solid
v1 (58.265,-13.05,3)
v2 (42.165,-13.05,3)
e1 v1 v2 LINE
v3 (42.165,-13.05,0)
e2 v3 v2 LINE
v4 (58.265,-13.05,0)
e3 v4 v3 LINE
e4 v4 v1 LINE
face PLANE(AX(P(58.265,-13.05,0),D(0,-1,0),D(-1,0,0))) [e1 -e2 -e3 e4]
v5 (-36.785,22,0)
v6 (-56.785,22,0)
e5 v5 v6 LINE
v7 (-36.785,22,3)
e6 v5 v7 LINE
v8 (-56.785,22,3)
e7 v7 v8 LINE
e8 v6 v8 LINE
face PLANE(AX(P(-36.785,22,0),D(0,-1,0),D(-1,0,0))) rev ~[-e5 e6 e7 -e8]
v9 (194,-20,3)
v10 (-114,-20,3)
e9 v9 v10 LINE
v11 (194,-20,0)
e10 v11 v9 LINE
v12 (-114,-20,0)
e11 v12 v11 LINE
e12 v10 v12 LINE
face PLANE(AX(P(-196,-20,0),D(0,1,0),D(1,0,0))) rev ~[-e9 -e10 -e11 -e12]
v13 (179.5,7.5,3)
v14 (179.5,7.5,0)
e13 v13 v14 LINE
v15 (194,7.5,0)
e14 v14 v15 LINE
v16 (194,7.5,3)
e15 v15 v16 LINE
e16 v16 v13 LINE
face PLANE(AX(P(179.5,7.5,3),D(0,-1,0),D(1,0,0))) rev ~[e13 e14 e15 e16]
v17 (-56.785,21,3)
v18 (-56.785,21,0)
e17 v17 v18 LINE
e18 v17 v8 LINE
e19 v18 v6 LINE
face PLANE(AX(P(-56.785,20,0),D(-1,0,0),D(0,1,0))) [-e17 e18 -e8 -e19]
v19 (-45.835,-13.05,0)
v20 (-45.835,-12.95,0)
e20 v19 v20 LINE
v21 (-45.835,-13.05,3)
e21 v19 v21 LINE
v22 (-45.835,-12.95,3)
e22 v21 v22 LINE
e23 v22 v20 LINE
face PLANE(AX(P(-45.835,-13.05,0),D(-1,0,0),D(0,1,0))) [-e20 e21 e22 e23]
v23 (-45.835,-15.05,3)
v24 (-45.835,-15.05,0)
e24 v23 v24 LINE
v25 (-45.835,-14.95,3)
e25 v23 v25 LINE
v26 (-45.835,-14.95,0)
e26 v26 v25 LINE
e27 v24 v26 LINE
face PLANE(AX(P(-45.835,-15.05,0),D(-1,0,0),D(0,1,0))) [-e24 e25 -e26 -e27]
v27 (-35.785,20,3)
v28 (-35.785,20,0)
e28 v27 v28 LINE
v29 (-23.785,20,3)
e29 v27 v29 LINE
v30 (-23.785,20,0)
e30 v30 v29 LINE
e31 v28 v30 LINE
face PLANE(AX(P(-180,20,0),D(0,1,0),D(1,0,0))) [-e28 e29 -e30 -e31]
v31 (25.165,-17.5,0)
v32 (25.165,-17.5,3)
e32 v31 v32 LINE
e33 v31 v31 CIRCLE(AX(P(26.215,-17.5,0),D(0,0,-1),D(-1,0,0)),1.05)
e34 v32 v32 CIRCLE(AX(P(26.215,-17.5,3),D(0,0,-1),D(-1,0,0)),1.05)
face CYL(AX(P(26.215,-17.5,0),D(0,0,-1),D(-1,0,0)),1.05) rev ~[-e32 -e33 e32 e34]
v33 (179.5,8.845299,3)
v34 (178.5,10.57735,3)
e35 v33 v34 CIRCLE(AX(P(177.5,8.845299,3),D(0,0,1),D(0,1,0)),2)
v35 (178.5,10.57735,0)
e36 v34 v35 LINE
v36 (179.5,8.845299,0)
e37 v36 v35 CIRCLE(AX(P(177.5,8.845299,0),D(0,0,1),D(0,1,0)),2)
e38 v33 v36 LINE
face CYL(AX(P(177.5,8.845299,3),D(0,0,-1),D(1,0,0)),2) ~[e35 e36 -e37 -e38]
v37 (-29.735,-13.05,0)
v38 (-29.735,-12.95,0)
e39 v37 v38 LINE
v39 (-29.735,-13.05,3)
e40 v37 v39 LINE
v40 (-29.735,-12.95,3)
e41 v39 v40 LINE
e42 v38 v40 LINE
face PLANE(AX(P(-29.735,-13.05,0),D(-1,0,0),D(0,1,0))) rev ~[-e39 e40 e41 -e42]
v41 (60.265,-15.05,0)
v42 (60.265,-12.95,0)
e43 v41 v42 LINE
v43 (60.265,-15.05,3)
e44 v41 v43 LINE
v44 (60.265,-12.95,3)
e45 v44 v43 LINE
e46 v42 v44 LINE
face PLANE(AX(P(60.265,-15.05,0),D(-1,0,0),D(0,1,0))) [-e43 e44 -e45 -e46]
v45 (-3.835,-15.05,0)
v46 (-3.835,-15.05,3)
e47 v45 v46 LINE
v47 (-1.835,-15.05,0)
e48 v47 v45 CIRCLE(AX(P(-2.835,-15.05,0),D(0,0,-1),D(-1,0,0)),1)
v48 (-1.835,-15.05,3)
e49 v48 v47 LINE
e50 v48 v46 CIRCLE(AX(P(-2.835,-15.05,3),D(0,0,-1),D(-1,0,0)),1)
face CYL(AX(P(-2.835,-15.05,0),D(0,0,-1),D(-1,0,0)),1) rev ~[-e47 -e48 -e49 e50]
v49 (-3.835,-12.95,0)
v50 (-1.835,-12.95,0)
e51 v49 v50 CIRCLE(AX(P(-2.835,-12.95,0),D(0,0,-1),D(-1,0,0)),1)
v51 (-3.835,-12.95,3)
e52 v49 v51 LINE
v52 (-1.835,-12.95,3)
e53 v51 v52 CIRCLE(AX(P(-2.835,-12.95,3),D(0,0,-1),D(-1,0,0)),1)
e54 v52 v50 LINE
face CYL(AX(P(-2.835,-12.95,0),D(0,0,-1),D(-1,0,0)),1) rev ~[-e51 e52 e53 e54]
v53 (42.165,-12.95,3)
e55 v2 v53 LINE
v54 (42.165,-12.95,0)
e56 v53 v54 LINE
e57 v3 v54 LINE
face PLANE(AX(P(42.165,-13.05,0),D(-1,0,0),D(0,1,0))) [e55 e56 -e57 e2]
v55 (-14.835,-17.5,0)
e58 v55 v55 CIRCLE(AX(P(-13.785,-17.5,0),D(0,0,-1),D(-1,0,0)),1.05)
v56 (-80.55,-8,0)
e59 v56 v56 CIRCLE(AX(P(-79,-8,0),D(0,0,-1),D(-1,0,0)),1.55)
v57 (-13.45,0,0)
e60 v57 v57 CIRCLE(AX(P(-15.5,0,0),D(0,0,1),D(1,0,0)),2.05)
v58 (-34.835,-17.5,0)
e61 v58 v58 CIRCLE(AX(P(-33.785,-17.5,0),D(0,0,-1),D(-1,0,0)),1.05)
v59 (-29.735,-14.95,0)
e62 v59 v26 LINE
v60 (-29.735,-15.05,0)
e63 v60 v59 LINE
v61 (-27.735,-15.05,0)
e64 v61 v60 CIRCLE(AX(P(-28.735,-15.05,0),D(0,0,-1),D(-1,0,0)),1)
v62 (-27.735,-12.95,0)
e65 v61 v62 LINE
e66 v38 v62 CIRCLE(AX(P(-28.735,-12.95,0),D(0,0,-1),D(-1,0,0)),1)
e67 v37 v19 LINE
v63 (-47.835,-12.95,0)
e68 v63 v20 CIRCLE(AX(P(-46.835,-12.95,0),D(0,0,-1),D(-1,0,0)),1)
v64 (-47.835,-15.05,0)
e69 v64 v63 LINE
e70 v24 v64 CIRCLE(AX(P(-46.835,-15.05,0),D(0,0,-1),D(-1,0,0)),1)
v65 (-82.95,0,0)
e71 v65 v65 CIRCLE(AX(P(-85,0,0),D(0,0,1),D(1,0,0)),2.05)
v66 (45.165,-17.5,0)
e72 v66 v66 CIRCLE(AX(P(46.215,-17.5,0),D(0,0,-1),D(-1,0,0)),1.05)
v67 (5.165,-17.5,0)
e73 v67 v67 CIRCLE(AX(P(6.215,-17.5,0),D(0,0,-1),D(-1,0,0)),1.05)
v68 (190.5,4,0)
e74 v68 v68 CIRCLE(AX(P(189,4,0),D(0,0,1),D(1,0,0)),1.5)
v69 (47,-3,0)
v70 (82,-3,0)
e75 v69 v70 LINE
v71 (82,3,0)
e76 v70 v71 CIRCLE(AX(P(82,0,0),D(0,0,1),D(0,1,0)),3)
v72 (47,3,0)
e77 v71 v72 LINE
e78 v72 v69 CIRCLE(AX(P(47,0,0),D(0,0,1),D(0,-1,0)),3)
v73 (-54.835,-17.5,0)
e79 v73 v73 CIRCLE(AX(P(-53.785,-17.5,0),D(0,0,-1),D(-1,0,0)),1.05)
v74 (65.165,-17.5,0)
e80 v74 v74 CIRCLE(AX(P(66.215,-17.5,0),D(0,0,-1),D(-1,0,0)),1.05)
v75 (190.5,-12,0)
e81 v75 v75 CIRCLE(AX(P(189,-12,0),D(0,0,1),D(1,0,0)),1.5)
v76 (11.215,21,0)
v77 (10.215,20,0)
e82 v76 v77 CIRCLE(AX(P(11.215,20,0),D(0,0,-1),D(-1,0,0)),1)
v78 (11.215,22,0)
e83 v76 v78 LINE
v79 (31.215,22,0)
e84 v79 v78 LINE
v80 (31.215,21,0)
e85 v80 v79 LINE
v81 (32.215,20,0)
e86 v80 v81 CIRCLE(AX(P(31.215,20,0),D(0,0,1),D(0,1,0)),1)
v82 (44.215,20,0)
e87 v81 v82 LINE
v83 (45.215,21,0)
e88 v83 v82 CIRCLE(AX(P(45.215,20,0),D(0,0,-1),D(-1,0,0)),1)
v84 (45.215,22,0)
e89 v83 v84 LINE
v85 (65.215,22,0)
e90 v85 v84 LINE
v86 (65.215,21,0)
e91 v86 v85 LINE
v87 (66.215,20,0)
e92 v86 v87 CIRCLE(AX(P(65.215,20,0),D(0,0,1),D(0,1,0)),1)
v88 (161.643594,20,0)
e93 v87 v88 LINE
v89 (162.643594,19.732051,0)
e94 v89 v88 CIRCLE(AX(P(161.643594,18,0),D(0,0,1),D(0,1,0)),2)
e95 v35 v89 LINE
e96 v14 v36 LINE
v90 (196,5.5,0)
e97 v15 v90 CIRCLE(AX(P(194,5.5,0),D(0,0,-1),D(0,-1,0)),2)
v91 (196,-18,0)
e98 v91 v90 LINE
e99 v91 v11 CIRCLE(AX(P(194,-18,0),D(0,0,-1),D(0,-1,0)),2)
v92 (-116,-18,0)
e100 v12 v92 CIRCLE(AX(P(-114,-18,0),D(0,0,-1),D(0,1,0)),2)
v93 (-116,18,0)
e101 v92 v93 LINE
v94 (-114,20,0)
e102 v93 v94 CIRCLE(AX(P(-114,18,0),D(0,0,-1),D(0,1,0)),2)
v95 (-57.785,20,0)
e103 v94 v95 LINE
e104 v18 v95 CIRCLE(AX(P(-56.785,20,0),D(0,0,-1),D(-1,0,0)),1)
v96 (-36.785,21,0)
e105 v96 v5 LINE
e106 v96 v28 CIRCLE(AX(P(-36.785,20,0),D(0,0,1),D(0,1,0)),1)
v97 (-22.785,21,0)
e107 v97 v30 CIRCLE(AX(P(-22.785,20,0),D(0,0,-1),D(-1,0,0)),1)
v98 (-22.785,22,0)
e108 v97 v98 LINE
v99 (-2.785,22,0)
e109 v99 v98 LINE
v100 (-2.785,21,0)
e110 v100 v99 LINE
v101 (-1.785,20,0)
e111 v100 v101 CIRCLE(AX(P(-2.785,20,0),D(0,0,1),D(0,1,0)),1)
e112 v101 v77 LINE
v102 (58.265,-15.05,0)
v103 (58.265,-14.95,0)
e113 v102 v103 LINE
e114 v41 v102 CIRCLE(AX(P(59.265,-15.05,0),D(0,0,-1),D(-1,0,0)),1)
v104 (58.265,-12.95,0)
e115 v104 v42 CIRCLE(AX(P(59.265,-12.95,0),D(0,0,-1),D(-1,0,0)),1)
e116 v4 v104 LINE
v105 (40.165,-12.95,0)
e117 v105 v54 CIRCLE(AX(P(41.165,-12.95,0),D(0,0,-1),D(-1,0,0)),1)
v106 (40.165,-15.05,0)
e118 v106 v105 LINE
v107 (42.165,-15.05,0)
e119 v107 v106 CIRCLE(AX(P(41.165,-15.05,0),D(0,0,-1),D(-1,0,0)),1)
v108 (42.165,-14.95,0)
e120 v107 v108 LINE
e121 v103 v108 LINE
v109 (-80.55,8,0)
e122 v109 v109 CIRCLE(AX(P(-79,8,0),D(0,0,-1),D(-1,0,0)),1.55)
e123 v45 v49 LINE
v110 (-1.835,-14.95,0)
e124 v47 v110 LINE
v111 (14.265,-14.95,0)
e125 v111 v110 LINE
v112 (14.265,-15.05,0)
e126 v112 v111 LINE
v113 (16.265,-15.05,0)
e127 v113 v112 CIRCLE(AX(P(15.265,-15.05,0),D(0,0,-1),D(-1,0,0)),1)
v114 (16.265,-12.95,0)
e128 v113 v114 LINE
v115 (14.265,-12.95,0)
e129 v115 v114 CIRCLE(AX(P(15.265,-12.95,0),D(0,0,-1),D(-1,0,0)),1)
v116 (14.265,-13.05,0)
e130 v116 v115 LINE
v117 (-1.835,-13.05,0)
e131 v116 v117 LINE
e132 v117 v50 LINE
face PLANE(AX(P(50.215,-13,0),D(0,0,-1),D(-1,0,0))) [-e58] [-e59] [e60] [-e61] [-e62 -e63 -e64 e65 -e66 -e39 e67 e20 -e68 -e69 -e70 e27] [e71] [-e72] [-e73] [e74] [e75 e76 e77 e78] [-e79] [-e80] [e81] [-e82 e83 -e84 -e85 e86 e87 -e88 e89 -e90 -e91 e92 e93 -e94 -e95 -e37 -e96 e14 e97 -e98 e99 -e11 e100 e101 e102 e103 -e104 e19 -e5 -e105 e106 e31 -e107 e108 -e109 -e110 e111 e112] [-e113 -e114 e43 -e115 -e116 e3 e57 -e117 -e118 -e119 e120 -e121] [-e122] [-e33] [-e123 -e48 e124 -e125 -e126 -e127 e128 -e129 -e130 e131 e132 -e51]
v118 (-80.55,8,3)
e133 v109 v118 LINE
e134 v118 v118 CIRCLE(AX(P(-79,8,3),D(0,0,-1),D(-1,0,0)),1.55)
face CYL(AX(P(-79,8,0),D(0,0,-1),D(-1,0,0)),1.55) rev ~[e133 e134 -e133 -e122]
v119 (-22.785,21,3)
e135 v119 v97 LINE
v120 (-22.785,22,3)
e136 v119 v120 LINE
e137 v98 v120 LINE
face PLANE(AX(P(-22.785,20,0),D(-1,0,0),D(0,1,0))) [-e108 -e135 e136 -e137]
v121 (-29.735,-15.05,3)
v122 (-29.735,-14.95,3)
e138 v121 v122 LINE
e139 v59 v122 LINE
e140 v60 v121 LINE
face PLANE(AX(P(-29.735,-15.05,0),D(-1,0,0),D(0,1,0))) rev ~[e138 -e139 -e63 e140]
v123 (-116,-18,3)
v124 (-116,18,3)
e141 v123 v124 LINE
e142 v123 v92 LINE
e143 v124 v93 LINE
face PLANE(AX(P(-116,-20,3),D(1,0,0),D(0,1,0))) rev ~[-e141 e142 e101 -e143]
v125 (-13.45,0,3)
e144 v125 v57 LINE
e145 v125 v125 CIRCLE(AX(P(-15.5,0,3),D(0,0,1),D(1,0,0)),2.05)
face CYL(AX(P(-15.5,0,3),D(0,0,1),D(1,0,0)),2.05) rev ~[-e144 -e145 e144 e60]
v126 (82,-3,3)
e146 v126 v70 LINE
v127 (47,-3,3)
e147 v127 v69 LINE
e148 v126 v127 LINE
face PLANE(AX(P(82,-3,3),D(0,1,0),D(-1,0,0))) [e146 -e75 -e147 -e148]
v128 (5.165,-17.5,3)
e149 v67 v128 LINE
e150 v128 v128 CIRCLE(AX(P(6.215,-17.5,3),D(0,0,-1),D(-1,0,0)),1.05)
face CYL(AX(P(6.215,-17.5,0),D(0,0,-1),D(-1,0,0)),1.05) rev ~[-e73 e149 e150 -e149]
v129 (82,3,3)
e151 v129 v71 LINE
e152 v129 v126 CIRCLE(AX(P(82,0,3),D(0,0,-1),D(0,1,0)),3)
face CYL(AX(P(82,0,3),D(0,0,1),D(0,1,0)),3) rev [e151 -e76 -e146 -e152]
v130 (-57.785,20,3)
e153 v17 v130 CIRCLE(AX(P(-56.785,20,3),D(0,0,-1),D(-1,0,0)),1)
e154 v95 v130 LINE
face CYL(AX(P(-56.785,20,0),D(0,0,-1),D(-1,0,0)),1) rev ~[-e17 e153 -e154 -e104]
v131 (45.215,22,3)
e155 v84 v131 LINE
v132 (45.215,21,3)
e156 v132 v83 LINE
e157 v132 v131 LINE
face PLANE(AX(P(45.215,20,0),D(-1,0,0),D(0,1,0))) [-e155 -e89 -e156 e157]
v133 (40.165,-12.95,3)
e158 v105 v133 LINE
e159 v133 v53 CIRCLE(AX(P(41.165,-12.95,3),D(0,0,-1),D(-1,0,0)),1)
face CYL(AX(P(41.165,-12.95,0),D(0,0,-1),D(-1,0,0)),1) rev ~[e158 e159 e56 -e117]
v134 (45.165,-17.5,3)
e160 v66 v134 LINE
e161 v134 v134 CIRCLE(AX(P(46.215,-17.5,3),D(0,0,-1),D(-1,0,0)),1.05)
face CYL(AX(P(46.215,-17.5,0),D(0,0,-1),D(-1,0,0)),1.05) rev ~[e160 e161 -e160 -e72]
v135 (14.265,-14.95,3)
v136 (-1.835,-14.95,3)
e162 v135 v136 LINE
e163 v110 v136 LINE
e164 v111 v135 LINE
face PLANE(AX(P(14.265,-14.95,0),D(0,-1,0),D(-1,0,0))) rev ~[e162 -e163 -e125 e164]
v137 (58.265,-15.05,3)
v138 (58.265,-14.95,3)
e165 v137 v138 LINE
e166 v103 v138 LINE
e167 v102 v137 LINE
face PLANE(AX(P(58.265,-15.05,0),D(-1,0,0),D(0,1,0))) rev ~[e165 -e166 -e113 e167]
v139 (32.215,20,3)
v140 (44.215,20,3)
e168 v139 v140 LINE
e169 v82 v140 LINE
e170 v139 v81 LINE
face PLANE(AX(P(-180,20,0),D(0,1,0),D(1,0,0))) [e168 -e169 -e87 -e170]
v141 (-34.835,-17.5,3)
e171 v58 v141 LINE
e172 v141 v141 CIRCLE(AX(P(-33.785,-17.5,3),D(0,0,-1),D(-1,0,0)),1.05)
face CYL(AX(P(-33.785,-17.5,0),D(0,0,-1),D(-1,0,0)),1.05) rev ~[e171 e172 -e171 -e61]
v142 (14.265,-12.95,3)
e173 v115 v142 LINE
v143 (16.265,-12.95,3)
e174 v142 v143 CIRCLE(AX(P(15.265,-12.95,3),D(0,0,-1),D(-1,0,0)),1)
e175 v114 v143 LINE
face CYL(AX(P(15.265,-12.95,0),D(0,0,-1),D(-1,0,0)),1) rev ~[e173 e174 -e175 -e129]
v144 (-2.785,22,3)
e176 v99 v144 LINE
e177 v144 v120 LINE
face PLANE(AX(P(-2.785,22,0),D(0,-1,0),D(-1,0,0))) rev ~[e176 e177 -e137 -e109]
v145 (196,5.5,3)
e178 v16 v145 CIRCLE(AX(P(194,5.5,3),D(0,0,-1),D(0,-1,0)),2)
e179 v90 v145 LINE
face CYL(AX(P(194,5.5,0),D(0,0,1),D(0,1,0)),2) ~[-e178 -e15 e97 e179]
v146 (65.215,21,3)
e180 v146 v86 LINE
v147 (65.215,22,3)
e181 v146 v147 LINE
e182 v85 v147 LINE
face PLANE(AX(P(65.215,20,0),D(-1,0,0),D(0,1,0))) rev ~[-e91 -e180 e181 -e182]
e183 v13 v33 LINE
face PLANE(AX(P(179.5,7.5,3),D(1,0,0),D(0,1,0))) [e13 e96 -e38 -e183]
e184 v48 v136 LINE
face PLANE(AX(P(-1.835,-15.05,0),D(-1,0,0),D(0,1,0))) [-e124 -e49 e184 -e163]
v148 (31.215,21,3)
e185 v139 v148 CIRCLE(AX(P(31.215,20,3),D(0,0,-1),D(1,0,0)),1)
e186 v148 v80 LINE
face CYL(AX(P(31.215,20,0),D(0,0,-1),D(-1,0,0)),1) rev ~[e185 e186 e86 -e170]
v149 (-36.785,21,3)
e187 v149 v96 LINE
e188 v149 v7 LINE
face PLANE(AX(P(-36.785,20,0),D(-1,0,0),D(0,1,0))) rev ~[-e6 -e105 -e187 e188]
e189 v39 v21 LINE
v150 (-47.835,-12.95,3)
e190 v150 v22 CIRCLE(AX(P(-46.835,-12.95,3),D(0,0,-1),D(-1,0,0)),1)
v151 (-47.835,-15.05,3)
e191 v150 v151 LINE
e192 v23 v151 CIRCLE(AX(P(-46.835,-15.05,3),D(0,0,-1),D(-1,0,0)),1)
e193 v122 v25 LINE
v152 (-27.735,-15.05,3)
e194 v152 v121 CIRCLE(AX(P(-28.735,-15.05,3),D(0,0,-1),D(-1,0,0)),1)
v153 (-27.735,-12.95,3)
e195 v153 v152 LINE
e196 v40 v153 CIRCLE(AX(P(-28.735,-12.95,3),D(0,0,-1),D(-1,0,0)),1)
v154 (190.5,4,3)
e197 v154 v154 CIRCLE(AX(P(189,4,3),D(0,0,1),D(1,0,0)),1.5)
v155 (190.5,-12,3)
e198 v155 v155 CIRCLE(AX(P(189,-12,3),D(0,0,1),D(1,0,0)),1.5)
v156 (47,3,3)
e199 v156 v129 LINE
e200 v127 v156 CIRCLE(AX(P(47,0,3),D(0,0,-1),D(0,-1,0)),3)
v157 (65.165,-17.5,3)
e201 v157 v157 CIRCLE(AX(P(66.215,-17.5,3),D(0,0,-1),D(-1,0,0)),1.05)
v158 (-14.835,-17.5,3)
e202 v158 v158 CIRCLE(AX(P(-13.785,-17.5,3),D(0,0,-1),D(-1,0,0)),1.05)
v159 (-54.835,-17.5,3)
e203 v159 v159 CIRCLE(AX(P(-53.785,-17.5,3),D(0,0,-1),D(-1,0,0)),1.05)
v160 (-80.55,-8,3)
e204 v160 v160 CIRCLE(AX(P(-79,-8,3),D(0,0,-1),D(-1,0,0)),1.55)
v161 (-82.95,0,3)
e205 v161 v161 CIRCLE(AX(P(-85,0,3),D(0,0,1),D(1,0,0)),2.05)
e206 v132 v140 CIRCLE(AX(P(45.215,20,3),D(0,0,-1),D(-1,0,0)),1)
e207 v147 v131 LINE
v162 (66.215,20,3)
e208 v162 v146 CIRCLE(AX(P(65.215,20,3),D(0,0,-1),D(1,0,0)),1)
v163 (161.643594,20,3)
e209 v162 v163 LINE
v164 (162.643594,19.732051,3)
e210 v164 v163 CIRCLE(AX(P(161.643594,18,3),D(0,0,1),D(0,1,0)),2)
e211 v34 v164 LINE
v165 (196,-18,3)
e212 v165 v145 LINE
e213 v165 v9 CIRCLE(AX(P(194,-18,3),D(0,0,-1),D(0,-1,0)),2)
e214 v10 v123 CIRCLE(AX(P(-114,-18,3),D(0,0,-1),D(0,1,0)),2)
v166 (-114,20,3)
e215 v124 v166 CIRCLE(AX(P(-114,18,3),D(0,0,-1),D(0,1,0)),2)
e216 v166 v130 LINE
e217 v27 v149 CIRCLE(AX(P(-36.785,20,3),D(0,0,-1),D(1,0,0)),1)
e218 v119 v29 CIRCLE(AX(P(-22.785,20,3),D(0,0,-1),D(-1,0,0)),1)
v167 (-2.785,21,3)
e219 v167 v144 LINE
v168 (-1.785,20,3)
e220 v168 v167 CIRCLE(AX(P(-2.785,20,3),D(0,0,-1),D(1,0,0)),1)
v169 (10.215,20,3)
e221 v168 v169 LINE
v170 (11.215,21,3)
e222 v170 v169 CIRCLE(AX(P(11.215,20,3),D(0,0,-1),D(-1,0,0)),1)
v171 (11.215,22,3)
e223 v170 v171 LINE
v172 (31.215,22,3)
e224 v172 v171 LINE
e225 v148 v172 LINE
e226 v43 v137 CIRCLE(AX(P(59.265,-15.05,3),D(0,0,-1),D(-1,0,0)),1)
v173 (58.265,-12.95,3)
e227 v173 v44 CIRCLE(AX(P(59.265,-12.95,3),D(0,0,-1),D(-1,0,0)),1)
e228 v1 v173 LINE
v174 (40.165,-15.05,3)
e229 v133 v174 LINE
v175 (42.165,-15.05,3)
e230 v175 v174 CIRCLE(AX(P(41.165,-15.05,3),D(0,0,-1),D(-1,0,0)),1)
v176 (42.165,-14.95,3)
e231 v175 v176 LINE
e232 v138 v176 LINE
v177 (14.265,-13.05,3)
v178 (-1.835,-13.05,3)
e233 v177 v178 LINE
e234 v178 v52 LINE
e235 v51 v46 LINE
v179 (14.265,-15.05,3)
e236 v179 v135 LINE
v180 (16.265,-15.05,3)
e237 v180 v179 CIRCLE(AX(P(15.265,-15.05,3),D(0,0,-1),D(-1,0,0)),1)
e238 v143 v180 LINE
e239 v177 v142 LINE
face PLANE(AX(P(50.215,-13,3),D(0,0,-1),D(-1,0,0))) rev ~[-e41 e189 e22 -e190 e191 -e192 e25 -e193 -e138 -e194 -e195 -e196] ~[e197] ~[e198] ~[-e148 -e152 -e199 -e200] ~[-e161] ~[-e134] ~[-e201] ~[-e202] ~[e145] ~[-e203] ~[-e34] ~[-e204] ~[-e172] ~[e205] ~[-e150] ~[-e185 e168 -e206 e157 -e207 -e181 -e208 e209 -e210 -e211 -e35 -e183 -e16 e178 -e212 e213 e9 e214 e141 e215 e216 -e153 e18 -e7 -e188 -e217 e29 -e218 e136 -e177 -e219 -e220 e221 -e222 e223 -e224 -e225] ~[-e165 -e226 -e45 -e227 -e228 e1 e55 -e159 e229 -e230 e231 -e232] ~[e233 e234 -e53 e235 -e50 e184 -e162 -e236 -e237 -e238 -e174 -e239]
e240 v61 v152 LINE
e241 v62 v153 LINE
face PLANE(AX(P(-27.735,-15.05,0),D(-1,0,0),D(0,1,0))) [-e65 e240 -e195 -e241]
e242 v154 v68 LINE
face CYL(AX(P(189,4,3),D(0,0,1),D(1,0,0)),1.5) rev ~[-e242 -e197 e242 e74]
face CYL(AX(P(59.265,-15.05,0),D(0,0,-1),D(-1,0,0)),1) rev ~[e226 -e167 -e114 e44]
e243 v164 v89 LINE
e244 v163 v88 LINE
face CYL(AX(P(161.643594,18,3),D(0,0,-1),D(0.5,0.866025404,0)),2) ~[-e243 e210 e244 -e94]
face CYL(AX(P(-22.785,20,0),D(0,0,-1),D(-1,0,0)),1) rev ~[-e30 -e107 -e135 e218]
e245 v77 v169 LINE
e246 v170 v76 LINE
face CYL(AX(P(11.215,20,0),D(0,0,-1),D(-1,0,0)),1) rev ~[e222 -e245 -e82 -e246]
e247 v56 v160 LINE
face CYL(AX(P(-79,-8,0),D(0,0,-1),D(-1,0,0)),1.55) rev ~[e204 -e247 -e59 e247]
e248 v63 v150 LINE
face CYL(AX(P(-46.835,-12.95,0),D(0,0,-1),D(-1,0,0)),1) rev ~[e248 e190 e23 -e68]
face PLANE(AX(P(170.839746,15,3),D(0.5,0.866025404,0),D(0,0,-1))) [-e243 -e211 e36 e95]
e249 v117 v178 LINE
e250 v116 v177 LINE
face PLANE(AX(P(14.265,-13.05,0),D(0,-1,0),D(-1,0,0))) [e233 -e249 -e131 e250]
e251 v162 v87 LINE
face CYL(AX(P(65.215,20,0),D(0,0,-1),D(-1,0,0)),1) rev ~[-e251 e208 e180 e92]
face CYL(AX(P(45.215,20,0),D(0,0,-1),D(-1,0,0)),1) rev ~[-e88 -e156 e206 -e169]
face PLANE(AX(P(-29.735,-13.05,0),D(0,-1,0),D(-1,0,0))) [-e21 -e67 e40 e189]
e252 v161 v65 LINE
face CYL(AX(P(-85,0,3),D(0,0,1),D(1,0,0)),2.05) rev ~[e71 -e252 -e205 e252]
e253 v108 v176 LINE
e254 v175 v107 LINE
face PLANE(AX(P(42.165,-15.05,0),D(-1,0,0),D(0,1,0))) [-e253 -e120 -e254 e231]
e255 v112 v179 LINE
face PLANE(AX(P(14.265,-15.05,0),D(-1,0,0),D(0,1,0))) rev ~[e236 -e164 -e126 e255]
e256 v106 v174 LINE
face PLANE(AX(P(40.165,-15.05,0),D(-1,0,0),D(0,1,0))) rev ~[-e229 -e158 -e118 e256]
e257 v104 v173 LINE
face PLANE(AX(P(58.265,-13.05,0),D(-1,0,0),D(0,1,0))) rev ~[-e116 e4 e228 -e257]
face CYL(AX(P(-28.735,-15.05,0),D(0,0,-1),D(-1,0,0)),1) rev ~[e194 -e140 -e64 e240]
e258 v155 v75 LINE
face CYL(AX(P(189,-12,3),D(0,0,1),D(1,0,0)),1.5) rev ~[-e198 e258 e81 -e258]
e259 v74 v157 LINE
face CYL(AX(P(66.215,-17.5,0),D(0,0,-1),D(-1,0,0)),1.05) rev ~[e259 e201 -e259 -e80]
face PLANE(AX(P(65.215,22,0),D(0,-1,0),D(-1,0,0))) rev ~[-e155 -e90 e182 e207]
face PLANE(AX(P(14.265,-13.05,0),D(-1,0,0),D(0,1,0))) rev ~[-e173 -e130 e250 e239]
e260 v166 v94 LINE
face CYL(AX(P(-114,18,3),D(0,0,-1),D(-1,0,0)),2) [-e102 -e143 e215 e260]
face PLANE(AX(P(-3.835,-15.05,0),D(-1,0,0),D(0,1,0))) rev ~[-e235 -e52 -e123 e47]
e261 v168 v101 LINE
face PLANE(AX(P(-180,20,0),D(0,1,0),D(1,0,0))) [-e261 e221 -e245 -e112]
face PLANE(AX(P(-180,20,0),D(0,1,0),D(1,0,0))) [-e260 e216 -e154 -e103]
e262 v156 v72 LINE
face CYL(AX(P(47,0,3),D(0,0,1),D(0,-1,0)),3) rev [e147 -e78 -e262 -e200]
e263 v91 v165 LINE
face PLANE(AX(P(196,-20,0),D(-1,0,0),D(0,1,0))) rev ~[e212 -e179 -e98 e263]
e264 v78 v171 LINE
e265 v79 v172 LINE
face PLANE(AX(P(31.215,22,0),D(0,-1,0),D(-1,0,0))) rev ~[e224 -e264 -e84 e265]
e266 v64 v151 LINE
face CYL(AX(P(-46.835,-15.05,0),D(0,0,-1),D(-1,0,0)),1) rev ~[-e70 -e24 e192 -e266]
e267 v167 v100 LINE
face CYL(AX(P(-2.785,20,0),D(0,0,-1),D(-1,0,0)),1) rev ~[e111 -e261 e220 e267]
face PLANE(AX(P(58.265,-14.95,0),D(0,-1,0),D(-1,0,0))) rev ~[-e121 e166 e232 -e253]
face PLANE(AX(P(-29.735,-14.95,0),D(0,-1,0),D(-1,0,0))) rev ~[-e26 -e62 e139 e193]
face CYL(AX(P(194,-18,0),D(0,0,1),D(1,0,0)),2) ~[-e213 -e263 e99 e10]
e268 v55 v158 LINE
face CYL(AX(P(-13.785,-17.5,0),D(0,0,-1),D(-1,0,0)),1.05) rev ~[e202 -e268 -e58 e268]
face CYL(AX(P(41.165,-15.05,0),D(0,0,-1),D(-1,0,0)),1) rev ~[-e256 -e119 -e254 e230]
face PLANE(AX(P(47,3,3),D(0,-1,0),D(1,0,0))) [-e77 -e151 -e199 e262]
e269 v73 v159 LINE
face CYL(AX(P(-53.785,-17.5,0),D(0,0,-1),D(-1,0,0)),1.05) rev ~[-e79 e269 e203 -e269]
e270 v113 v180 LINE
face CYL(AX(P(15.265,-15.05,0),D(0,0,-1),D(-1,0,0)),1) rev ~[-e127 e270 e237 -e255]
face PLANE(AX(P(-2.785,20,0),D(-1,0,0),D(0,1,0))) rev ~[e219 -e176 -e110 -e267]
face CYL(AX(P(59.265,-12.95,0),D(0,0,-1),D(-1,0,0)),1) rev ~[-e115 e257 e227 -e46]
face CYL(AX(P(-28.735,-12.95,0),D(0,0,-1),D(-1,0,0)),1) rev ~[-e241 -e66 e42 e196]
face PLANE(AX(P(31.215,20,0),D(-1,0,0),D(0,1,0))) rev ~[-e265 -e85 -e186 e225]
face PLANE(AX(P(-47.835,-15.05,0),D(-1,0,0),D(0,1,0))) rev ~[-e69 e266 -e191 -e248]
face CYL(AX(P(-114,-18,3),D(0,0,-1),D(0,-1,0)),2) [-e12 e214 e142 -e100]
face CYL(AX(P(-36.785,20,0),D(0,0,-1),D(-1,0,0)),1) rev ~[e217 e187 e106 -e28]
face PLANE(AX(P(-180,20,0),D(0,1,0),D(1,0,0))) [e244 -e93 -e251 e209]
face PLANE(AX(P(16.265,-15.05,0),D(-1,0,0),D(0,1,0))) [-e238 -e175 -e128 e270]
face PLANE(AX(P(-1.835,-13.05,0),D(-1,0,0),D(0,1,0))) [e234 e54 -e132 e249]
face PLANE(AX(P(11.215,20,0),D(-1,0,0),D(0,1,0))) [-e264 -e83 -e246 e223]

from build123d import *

# Parameters (mm, degrees)
SKETCH_1_W           = 360
SKETCH_1_H           = 40
EXTRUDE_1_DEPTH      = 3
SKETCH_2_W           = 16
SKETCH_2_H           = 27.5
EXTRUDE_2_DEPTH      = 3
SKETCH_3_R           = 1.5
SKETCH_3_R_2         = 4.5
SKETCH_3_R_3         = 3
CUT_EXTRUDE_1_DEPTH  = 4
SKETCH_6_W           = 0.5
SKETCH_6_H           = 12.5
CUT_EXTRUDE_4_DEPTH  = 10
CUT_EXTRUDE_10_DEPTH = 10
SKETCH_14_W          = 80
SKETCH_14_H          = 40
CUT_EXTRUDE_11_DEPTH = 10
SKETCH_15_R          = 2.05
CUT_EXTRUDE_12_DEPTH = 10
SKETCH_16_R          = 1.05
CUT_EXTRUDE_13_DEPTH = 10
SKETCH_17_W          = 20
SKETCH_17_H          = 2
EXTRUDE_3_DEPTH      = 3
SKETCH_18_W          = 20.1
SKETCH_18_H          = 2.1
CUT_EXTRUDE_14_DEPTH = 4
SKETCH_19_R          = 1
CUT_EXTRUDE_15_DEPTH = 3
CHAMFER_1_SIZE       = 10
CHAMFER_1_SIZE2      = 17.320508076
FILLET_2_R           = 2
SKETCH_22_R          = 1.55
CUT_EXTRUDE_17_DEPTH = 10
SKETCH_24_W          = 16.1
SKETCH_24_H          = 0.1
EXTRUDE_4_DEPTH      = 3
SKETCH_25_R          = 1
CUT_EXTRUDE_18_DEPTH = 10


with BuildPart() as part:
    # 草图1 → 凸台-拉伸1 (new body)
    with BuildSketch(Plane.XY):
        Rectangle(SKETCH_1_W, SKETCH_1_H)
    extrude(amount=EXTRUDE_1_DEPTH)

    # 草图2 → 凸台-拉伸2 (add)
    with BuildSketch(Plane.XY):
        with Locations((-188, -6.25)):
            Rectangle(SKETCH_2_W, SKETCH_2_H)
        with Locations((188, -6.25)):
            Rectangle(SKETCH_2_W, SKETCH_2_H)
    extrude(amount=EXTRUDE_2_DEPTH)

    # 草图3 → 切除-拉伸1 (cut, through all)
    with BuildSketch(Plane.XY.offset(3)):
        with Locations((-189, -12)):
            Circle(SKETCH_3_R)
        with Locations((-189, 4)):
            Circle(SKETCH_3_R)
        with Locations((-145, 0)):
            Circle(SKETCH_3_R_2)
        with Locations((189, 4)):
            Circle(SKETCH_3_R)
        with Locations((189, -12)):
            Circle(SKETCH_3_R)
        with Locations((72, 0)):
            Circle(SKETCH_3_R_3)
    extrude(amount=-CUT_EXTRUDE_1_DEPTH, mode=Mode.SUBTRACT)

    # 草图6 → 切除-拉伸4 (cut)
    with BuildSketch(Plane.XY.offset(3)):
        with Locations((-179.75, 13.75)):
            Rectangle(SKETCH_6_W, SKETCH_6_H)
        with Locations((179.75, 13.75)):
            Rectangle(SKETCH_6_W, SKETCH_6_H)
    extrude(amount=-CUT_EXTRUDE_4_DEPTH, mode=Mode.SUBTRACT)

    # 草图13 → 切除-拉伸10 (cut)
    with BuildSketch(Plane.XY.offset(3)):
        with BuildLine():
            Line((47, 3), (82, 3))
            ThreePointArc((82, 3), (85, 0), (82, -3))
            Line((82, -3), (47, -3))
            ThreePointArc((47, -3), (44, 0), (47, 3))
        make_face()
    extrude(amount=-CUT_EXTRUDE_10_DEPTH, mode=Mode.SUBTRACT)

    # 草图14 → 切除-拉伸11 (cut)
    with BuildSketch(Plane.XY.offset(3)):
        with Locations((-156, 0)):
            Rectangle(SKETCH_14_W, SKETCH_14_H)
    extrude(amount=-CUT_EXTRUDE_11_DEPTH, mode=Mode.SUBTRACT)

    # 草图15 → 切除-拉伸12 (cut)
    with BuildSketch(Plane.XY.offset(3)):
        with Locations((-85, 0)):
            Circle(SKETCH_15_R)
        with Locations((54, 0)):
            Circle(SKETCH_15_R)
        with Locations((-15.5, 0)):
            Circle(SKETCH_15_R)
    extrude(amount=-CUT_EXTRUDE_12_DEPTH, mode=Mode.SUBTRACT)

    # 草图16 → 切除-拉伸13 (cut)
    with BuildSketch(Plane(origin=(0, 0, 0), x_dir=(-1, 0, 0), z_dir=(0, 0, -1))):
        with Locations((-66.215, -17.5)):
            Circle(SKETCH_16_R)
        with Locations((-46.215, -17.5)):
            Circle(SKETCH_16_R)
        with Locations((-26.215, -17.5)):
            Circle(SKETCH_16_R)
        with Locations((-6.215, -17.5)):
            Circle(SKETCH_16_R)
        with Locations((13.785, -17.5)):
            Circle(SKETCH_16_R)
        with Locations((33.785, -17.5)):
            Circle(SKETCH_16_R)
        with Locations((53.785, -17.5)):
            Circle(SKETCH_16_R)
    extrude(amount=-CUT_EXTRUDE_13_DEPTH, mode=Mode.SUBTRACT)

    # 草图17 → 凸台-拉伸3 (add)
    with BuildSketch(Plane(origin=(0, 0, 0), x_dir=(-1, 0, 0), z_dir=(0, 0, -1))):
        with Locations((-55.215, 21)):
            Rectangle(SKETCH_17_W, SKETCH_17_H)
        with Locations((-21.215, 21)):
            Rectangle(SKETCH_17_W, SKETCH_17_H)
        with Locations((12.785, 21)):
            Rectangle(SKETCH_17_W, SKETCH_17_H)
        with Locations((46.785, 21)):
            Rectangle(SKETCH_17_W, SKETCH_17_H)
    extrude(amount=-EXTRUDE_3_DEPTH)

    # 草图18 → 切除-拉伸14 (cut, through all)
    with BuildSketch(Plane(origin=(0, 0, 0), x_dir=(-1, 0, 0), z_dir=(0, 0, -1))):
        with Locations((37.785, -14)):
            Rectangle(SKETCH_18_W, SKETCH_18_H)
        with Locations((-50.215, -14)):
            Rectangle(SKETCH_18_W, SKETCH_18_H)
        with Locations((-6.215, -14)):
            Rectangle(SKETCH_18_W, SKETCH_18_H)
    extrude(amount=-CUT_EXTRUDE_14_DEPTH, mode=Mode.SUBTRACT)

    # 草图19 → 切除-拉伸15 (cut)
    with BuildSketch(Plane(origin=(0, 0, 0), x_dir=(-1, 0, 0), z_dir=(0, 0, -1))):
        with Locations((-59.265, -12.95)):
            Circle(SKETCH_19_R)
        with Locations((-59.265, -15.05)):
            Circle(SKETCH_19_R)
        with Locations((-41.165, -12.95)):
            Circle(SKETCH_19_R)
        with Locations((-41.165, -15.05)):
            Circle(SKETCH_19_R)
        with Locations((-15.265, -12.95)):
            Circle(SKETCH_19_R)
        with Locations((-15.265, -15.05)):
            Circle(SKETCH_19_R)
        with Locations((2.835, -12.95)):
            Circle(SKETCH_19_R)
        with Locations((2.835, -15.05)):
            Circle(SKETCH_19_R)
        with Locations((28.735, -12.95)):
            Circle(SKETCH_19_R)
        with Locations((28.735, -15.05)):
            Circle(SKETCH_19_R)
        with Locations((46.835, -12.95)):
            Circle(SKETCH_19_R)
        with Locations((46.835, -15.05)):
            Circle(SKETCH_19_R)
    extrude(amount=-CUT_EXTRUDE_15_DEPTH, mode=Mode.SUBTRACT)

    # 倒角1
    chamfer_1_edges = [part.edges().sort_by_distance(p)[0] for p in [
        (179.5, 20, 1.5),
    ]]
    chamfer_1_side = [part.faces().sort_by_distance(p)[0] for p in [
        (179.5, 13.75, 1.5),
    ]]
    chamfer(chamfer_1_edges, length=CHAMFER_1_SIZE, length2=CHAMFER_1_SIZE2, reference=chamfer_1_side[0])

    # 圆角2
    fillet_2_edges = [part.edges().sort_by_distance(p)[0] for p in [
        (-116, 20, 1.5),
        (-116, -20, 1.5),
        (196, -20, 1.5),
        (196, 7.5, 1.5),
        (179.5, 10, 1.5),
        (162.179491924, 20, 1.5),
    ]]
    fillet(fillet_2_edges, radius=FILLET_2_R)

    # 草图22 → 切除-拉伸17 (cut)
    with BuildSketch(Plane(origin=(0, 0, 0), x_dir=(-1, 0, 0), z_dir=(0, 0, -1))):
        with Locations((79, 8)):
            Circle(SKETCH_22_R)
        with Locations((79, -8)):
            Circle(SKETCH_22_R)
    extrude(amount=-CUT_EXTRUDE_17_DEPTH, mode=Mode.SUBTRACT)

    # 草图24 → 凸台-拉伸4 (add)
    with BuildSketch(Plane(origin=(0, 0, 0), x_dir=(-1, 0, 0), z_dir=(0, 0, -1))):
        with Locations((-50.215, -13)):
            Rectangle(SKETCH_24_W, SKETCH_24_H)
        with Locations((-50.215, -15)):
            Rectangle(SKETCH_24_W, SKETCH_24_H)
        with Locations((-6.215, -13)):
            Rectangle(SKETCH_24_W, SKETCH_24_H)
        with Locations((-6.215, -15)):
            Rectangle(SKETCH_24_W, SKETCH_24_H)
        with Locations((37.785, -13)):
            Rectangle(SKETCH_24_W, SKETCH_24_H)
        with Locations((37.785, -15)):
            Rectangle(SKETCH_24_W, SKETCH_24_H)
    extrude(amount=-EXTRUDE_4_DEPTH)

    # 草图25 → 切除-拉伸18 (cut)
    with BuildSketch(Plane(origin=(0, 0, 0), x_dir=(-1, 0, 0), z_dir=(0, 0, -1))):
        with Locations((-65.215, 20)):
            Circle(SKETCH_25_R)
        with Locations((-45.215, 20)):
            Circle(SKETCH_25_R)
        with Locations((-31.215, 20)):
            Circle(SKETCH_25_R)
        with Locations((-11.215, 20)):
            Circle(SKETCH_25_R)
        with Locations((2.785, 20)):
            Circle(SKETCH_25_R)
        with Locations((22.785, 20)):
            Circle(SKETCH_25_R)
        with Locations((36.785, 20)):
            Circle(SKETCH_25_R)
        with Locations((56.785, 20)):
            Circle(SKETCH_25_R)
    extrude(amount=-CUT_EXTRUDE_18_DEPTH, mode=Mode.SUBTRACT)


solid = part.part
